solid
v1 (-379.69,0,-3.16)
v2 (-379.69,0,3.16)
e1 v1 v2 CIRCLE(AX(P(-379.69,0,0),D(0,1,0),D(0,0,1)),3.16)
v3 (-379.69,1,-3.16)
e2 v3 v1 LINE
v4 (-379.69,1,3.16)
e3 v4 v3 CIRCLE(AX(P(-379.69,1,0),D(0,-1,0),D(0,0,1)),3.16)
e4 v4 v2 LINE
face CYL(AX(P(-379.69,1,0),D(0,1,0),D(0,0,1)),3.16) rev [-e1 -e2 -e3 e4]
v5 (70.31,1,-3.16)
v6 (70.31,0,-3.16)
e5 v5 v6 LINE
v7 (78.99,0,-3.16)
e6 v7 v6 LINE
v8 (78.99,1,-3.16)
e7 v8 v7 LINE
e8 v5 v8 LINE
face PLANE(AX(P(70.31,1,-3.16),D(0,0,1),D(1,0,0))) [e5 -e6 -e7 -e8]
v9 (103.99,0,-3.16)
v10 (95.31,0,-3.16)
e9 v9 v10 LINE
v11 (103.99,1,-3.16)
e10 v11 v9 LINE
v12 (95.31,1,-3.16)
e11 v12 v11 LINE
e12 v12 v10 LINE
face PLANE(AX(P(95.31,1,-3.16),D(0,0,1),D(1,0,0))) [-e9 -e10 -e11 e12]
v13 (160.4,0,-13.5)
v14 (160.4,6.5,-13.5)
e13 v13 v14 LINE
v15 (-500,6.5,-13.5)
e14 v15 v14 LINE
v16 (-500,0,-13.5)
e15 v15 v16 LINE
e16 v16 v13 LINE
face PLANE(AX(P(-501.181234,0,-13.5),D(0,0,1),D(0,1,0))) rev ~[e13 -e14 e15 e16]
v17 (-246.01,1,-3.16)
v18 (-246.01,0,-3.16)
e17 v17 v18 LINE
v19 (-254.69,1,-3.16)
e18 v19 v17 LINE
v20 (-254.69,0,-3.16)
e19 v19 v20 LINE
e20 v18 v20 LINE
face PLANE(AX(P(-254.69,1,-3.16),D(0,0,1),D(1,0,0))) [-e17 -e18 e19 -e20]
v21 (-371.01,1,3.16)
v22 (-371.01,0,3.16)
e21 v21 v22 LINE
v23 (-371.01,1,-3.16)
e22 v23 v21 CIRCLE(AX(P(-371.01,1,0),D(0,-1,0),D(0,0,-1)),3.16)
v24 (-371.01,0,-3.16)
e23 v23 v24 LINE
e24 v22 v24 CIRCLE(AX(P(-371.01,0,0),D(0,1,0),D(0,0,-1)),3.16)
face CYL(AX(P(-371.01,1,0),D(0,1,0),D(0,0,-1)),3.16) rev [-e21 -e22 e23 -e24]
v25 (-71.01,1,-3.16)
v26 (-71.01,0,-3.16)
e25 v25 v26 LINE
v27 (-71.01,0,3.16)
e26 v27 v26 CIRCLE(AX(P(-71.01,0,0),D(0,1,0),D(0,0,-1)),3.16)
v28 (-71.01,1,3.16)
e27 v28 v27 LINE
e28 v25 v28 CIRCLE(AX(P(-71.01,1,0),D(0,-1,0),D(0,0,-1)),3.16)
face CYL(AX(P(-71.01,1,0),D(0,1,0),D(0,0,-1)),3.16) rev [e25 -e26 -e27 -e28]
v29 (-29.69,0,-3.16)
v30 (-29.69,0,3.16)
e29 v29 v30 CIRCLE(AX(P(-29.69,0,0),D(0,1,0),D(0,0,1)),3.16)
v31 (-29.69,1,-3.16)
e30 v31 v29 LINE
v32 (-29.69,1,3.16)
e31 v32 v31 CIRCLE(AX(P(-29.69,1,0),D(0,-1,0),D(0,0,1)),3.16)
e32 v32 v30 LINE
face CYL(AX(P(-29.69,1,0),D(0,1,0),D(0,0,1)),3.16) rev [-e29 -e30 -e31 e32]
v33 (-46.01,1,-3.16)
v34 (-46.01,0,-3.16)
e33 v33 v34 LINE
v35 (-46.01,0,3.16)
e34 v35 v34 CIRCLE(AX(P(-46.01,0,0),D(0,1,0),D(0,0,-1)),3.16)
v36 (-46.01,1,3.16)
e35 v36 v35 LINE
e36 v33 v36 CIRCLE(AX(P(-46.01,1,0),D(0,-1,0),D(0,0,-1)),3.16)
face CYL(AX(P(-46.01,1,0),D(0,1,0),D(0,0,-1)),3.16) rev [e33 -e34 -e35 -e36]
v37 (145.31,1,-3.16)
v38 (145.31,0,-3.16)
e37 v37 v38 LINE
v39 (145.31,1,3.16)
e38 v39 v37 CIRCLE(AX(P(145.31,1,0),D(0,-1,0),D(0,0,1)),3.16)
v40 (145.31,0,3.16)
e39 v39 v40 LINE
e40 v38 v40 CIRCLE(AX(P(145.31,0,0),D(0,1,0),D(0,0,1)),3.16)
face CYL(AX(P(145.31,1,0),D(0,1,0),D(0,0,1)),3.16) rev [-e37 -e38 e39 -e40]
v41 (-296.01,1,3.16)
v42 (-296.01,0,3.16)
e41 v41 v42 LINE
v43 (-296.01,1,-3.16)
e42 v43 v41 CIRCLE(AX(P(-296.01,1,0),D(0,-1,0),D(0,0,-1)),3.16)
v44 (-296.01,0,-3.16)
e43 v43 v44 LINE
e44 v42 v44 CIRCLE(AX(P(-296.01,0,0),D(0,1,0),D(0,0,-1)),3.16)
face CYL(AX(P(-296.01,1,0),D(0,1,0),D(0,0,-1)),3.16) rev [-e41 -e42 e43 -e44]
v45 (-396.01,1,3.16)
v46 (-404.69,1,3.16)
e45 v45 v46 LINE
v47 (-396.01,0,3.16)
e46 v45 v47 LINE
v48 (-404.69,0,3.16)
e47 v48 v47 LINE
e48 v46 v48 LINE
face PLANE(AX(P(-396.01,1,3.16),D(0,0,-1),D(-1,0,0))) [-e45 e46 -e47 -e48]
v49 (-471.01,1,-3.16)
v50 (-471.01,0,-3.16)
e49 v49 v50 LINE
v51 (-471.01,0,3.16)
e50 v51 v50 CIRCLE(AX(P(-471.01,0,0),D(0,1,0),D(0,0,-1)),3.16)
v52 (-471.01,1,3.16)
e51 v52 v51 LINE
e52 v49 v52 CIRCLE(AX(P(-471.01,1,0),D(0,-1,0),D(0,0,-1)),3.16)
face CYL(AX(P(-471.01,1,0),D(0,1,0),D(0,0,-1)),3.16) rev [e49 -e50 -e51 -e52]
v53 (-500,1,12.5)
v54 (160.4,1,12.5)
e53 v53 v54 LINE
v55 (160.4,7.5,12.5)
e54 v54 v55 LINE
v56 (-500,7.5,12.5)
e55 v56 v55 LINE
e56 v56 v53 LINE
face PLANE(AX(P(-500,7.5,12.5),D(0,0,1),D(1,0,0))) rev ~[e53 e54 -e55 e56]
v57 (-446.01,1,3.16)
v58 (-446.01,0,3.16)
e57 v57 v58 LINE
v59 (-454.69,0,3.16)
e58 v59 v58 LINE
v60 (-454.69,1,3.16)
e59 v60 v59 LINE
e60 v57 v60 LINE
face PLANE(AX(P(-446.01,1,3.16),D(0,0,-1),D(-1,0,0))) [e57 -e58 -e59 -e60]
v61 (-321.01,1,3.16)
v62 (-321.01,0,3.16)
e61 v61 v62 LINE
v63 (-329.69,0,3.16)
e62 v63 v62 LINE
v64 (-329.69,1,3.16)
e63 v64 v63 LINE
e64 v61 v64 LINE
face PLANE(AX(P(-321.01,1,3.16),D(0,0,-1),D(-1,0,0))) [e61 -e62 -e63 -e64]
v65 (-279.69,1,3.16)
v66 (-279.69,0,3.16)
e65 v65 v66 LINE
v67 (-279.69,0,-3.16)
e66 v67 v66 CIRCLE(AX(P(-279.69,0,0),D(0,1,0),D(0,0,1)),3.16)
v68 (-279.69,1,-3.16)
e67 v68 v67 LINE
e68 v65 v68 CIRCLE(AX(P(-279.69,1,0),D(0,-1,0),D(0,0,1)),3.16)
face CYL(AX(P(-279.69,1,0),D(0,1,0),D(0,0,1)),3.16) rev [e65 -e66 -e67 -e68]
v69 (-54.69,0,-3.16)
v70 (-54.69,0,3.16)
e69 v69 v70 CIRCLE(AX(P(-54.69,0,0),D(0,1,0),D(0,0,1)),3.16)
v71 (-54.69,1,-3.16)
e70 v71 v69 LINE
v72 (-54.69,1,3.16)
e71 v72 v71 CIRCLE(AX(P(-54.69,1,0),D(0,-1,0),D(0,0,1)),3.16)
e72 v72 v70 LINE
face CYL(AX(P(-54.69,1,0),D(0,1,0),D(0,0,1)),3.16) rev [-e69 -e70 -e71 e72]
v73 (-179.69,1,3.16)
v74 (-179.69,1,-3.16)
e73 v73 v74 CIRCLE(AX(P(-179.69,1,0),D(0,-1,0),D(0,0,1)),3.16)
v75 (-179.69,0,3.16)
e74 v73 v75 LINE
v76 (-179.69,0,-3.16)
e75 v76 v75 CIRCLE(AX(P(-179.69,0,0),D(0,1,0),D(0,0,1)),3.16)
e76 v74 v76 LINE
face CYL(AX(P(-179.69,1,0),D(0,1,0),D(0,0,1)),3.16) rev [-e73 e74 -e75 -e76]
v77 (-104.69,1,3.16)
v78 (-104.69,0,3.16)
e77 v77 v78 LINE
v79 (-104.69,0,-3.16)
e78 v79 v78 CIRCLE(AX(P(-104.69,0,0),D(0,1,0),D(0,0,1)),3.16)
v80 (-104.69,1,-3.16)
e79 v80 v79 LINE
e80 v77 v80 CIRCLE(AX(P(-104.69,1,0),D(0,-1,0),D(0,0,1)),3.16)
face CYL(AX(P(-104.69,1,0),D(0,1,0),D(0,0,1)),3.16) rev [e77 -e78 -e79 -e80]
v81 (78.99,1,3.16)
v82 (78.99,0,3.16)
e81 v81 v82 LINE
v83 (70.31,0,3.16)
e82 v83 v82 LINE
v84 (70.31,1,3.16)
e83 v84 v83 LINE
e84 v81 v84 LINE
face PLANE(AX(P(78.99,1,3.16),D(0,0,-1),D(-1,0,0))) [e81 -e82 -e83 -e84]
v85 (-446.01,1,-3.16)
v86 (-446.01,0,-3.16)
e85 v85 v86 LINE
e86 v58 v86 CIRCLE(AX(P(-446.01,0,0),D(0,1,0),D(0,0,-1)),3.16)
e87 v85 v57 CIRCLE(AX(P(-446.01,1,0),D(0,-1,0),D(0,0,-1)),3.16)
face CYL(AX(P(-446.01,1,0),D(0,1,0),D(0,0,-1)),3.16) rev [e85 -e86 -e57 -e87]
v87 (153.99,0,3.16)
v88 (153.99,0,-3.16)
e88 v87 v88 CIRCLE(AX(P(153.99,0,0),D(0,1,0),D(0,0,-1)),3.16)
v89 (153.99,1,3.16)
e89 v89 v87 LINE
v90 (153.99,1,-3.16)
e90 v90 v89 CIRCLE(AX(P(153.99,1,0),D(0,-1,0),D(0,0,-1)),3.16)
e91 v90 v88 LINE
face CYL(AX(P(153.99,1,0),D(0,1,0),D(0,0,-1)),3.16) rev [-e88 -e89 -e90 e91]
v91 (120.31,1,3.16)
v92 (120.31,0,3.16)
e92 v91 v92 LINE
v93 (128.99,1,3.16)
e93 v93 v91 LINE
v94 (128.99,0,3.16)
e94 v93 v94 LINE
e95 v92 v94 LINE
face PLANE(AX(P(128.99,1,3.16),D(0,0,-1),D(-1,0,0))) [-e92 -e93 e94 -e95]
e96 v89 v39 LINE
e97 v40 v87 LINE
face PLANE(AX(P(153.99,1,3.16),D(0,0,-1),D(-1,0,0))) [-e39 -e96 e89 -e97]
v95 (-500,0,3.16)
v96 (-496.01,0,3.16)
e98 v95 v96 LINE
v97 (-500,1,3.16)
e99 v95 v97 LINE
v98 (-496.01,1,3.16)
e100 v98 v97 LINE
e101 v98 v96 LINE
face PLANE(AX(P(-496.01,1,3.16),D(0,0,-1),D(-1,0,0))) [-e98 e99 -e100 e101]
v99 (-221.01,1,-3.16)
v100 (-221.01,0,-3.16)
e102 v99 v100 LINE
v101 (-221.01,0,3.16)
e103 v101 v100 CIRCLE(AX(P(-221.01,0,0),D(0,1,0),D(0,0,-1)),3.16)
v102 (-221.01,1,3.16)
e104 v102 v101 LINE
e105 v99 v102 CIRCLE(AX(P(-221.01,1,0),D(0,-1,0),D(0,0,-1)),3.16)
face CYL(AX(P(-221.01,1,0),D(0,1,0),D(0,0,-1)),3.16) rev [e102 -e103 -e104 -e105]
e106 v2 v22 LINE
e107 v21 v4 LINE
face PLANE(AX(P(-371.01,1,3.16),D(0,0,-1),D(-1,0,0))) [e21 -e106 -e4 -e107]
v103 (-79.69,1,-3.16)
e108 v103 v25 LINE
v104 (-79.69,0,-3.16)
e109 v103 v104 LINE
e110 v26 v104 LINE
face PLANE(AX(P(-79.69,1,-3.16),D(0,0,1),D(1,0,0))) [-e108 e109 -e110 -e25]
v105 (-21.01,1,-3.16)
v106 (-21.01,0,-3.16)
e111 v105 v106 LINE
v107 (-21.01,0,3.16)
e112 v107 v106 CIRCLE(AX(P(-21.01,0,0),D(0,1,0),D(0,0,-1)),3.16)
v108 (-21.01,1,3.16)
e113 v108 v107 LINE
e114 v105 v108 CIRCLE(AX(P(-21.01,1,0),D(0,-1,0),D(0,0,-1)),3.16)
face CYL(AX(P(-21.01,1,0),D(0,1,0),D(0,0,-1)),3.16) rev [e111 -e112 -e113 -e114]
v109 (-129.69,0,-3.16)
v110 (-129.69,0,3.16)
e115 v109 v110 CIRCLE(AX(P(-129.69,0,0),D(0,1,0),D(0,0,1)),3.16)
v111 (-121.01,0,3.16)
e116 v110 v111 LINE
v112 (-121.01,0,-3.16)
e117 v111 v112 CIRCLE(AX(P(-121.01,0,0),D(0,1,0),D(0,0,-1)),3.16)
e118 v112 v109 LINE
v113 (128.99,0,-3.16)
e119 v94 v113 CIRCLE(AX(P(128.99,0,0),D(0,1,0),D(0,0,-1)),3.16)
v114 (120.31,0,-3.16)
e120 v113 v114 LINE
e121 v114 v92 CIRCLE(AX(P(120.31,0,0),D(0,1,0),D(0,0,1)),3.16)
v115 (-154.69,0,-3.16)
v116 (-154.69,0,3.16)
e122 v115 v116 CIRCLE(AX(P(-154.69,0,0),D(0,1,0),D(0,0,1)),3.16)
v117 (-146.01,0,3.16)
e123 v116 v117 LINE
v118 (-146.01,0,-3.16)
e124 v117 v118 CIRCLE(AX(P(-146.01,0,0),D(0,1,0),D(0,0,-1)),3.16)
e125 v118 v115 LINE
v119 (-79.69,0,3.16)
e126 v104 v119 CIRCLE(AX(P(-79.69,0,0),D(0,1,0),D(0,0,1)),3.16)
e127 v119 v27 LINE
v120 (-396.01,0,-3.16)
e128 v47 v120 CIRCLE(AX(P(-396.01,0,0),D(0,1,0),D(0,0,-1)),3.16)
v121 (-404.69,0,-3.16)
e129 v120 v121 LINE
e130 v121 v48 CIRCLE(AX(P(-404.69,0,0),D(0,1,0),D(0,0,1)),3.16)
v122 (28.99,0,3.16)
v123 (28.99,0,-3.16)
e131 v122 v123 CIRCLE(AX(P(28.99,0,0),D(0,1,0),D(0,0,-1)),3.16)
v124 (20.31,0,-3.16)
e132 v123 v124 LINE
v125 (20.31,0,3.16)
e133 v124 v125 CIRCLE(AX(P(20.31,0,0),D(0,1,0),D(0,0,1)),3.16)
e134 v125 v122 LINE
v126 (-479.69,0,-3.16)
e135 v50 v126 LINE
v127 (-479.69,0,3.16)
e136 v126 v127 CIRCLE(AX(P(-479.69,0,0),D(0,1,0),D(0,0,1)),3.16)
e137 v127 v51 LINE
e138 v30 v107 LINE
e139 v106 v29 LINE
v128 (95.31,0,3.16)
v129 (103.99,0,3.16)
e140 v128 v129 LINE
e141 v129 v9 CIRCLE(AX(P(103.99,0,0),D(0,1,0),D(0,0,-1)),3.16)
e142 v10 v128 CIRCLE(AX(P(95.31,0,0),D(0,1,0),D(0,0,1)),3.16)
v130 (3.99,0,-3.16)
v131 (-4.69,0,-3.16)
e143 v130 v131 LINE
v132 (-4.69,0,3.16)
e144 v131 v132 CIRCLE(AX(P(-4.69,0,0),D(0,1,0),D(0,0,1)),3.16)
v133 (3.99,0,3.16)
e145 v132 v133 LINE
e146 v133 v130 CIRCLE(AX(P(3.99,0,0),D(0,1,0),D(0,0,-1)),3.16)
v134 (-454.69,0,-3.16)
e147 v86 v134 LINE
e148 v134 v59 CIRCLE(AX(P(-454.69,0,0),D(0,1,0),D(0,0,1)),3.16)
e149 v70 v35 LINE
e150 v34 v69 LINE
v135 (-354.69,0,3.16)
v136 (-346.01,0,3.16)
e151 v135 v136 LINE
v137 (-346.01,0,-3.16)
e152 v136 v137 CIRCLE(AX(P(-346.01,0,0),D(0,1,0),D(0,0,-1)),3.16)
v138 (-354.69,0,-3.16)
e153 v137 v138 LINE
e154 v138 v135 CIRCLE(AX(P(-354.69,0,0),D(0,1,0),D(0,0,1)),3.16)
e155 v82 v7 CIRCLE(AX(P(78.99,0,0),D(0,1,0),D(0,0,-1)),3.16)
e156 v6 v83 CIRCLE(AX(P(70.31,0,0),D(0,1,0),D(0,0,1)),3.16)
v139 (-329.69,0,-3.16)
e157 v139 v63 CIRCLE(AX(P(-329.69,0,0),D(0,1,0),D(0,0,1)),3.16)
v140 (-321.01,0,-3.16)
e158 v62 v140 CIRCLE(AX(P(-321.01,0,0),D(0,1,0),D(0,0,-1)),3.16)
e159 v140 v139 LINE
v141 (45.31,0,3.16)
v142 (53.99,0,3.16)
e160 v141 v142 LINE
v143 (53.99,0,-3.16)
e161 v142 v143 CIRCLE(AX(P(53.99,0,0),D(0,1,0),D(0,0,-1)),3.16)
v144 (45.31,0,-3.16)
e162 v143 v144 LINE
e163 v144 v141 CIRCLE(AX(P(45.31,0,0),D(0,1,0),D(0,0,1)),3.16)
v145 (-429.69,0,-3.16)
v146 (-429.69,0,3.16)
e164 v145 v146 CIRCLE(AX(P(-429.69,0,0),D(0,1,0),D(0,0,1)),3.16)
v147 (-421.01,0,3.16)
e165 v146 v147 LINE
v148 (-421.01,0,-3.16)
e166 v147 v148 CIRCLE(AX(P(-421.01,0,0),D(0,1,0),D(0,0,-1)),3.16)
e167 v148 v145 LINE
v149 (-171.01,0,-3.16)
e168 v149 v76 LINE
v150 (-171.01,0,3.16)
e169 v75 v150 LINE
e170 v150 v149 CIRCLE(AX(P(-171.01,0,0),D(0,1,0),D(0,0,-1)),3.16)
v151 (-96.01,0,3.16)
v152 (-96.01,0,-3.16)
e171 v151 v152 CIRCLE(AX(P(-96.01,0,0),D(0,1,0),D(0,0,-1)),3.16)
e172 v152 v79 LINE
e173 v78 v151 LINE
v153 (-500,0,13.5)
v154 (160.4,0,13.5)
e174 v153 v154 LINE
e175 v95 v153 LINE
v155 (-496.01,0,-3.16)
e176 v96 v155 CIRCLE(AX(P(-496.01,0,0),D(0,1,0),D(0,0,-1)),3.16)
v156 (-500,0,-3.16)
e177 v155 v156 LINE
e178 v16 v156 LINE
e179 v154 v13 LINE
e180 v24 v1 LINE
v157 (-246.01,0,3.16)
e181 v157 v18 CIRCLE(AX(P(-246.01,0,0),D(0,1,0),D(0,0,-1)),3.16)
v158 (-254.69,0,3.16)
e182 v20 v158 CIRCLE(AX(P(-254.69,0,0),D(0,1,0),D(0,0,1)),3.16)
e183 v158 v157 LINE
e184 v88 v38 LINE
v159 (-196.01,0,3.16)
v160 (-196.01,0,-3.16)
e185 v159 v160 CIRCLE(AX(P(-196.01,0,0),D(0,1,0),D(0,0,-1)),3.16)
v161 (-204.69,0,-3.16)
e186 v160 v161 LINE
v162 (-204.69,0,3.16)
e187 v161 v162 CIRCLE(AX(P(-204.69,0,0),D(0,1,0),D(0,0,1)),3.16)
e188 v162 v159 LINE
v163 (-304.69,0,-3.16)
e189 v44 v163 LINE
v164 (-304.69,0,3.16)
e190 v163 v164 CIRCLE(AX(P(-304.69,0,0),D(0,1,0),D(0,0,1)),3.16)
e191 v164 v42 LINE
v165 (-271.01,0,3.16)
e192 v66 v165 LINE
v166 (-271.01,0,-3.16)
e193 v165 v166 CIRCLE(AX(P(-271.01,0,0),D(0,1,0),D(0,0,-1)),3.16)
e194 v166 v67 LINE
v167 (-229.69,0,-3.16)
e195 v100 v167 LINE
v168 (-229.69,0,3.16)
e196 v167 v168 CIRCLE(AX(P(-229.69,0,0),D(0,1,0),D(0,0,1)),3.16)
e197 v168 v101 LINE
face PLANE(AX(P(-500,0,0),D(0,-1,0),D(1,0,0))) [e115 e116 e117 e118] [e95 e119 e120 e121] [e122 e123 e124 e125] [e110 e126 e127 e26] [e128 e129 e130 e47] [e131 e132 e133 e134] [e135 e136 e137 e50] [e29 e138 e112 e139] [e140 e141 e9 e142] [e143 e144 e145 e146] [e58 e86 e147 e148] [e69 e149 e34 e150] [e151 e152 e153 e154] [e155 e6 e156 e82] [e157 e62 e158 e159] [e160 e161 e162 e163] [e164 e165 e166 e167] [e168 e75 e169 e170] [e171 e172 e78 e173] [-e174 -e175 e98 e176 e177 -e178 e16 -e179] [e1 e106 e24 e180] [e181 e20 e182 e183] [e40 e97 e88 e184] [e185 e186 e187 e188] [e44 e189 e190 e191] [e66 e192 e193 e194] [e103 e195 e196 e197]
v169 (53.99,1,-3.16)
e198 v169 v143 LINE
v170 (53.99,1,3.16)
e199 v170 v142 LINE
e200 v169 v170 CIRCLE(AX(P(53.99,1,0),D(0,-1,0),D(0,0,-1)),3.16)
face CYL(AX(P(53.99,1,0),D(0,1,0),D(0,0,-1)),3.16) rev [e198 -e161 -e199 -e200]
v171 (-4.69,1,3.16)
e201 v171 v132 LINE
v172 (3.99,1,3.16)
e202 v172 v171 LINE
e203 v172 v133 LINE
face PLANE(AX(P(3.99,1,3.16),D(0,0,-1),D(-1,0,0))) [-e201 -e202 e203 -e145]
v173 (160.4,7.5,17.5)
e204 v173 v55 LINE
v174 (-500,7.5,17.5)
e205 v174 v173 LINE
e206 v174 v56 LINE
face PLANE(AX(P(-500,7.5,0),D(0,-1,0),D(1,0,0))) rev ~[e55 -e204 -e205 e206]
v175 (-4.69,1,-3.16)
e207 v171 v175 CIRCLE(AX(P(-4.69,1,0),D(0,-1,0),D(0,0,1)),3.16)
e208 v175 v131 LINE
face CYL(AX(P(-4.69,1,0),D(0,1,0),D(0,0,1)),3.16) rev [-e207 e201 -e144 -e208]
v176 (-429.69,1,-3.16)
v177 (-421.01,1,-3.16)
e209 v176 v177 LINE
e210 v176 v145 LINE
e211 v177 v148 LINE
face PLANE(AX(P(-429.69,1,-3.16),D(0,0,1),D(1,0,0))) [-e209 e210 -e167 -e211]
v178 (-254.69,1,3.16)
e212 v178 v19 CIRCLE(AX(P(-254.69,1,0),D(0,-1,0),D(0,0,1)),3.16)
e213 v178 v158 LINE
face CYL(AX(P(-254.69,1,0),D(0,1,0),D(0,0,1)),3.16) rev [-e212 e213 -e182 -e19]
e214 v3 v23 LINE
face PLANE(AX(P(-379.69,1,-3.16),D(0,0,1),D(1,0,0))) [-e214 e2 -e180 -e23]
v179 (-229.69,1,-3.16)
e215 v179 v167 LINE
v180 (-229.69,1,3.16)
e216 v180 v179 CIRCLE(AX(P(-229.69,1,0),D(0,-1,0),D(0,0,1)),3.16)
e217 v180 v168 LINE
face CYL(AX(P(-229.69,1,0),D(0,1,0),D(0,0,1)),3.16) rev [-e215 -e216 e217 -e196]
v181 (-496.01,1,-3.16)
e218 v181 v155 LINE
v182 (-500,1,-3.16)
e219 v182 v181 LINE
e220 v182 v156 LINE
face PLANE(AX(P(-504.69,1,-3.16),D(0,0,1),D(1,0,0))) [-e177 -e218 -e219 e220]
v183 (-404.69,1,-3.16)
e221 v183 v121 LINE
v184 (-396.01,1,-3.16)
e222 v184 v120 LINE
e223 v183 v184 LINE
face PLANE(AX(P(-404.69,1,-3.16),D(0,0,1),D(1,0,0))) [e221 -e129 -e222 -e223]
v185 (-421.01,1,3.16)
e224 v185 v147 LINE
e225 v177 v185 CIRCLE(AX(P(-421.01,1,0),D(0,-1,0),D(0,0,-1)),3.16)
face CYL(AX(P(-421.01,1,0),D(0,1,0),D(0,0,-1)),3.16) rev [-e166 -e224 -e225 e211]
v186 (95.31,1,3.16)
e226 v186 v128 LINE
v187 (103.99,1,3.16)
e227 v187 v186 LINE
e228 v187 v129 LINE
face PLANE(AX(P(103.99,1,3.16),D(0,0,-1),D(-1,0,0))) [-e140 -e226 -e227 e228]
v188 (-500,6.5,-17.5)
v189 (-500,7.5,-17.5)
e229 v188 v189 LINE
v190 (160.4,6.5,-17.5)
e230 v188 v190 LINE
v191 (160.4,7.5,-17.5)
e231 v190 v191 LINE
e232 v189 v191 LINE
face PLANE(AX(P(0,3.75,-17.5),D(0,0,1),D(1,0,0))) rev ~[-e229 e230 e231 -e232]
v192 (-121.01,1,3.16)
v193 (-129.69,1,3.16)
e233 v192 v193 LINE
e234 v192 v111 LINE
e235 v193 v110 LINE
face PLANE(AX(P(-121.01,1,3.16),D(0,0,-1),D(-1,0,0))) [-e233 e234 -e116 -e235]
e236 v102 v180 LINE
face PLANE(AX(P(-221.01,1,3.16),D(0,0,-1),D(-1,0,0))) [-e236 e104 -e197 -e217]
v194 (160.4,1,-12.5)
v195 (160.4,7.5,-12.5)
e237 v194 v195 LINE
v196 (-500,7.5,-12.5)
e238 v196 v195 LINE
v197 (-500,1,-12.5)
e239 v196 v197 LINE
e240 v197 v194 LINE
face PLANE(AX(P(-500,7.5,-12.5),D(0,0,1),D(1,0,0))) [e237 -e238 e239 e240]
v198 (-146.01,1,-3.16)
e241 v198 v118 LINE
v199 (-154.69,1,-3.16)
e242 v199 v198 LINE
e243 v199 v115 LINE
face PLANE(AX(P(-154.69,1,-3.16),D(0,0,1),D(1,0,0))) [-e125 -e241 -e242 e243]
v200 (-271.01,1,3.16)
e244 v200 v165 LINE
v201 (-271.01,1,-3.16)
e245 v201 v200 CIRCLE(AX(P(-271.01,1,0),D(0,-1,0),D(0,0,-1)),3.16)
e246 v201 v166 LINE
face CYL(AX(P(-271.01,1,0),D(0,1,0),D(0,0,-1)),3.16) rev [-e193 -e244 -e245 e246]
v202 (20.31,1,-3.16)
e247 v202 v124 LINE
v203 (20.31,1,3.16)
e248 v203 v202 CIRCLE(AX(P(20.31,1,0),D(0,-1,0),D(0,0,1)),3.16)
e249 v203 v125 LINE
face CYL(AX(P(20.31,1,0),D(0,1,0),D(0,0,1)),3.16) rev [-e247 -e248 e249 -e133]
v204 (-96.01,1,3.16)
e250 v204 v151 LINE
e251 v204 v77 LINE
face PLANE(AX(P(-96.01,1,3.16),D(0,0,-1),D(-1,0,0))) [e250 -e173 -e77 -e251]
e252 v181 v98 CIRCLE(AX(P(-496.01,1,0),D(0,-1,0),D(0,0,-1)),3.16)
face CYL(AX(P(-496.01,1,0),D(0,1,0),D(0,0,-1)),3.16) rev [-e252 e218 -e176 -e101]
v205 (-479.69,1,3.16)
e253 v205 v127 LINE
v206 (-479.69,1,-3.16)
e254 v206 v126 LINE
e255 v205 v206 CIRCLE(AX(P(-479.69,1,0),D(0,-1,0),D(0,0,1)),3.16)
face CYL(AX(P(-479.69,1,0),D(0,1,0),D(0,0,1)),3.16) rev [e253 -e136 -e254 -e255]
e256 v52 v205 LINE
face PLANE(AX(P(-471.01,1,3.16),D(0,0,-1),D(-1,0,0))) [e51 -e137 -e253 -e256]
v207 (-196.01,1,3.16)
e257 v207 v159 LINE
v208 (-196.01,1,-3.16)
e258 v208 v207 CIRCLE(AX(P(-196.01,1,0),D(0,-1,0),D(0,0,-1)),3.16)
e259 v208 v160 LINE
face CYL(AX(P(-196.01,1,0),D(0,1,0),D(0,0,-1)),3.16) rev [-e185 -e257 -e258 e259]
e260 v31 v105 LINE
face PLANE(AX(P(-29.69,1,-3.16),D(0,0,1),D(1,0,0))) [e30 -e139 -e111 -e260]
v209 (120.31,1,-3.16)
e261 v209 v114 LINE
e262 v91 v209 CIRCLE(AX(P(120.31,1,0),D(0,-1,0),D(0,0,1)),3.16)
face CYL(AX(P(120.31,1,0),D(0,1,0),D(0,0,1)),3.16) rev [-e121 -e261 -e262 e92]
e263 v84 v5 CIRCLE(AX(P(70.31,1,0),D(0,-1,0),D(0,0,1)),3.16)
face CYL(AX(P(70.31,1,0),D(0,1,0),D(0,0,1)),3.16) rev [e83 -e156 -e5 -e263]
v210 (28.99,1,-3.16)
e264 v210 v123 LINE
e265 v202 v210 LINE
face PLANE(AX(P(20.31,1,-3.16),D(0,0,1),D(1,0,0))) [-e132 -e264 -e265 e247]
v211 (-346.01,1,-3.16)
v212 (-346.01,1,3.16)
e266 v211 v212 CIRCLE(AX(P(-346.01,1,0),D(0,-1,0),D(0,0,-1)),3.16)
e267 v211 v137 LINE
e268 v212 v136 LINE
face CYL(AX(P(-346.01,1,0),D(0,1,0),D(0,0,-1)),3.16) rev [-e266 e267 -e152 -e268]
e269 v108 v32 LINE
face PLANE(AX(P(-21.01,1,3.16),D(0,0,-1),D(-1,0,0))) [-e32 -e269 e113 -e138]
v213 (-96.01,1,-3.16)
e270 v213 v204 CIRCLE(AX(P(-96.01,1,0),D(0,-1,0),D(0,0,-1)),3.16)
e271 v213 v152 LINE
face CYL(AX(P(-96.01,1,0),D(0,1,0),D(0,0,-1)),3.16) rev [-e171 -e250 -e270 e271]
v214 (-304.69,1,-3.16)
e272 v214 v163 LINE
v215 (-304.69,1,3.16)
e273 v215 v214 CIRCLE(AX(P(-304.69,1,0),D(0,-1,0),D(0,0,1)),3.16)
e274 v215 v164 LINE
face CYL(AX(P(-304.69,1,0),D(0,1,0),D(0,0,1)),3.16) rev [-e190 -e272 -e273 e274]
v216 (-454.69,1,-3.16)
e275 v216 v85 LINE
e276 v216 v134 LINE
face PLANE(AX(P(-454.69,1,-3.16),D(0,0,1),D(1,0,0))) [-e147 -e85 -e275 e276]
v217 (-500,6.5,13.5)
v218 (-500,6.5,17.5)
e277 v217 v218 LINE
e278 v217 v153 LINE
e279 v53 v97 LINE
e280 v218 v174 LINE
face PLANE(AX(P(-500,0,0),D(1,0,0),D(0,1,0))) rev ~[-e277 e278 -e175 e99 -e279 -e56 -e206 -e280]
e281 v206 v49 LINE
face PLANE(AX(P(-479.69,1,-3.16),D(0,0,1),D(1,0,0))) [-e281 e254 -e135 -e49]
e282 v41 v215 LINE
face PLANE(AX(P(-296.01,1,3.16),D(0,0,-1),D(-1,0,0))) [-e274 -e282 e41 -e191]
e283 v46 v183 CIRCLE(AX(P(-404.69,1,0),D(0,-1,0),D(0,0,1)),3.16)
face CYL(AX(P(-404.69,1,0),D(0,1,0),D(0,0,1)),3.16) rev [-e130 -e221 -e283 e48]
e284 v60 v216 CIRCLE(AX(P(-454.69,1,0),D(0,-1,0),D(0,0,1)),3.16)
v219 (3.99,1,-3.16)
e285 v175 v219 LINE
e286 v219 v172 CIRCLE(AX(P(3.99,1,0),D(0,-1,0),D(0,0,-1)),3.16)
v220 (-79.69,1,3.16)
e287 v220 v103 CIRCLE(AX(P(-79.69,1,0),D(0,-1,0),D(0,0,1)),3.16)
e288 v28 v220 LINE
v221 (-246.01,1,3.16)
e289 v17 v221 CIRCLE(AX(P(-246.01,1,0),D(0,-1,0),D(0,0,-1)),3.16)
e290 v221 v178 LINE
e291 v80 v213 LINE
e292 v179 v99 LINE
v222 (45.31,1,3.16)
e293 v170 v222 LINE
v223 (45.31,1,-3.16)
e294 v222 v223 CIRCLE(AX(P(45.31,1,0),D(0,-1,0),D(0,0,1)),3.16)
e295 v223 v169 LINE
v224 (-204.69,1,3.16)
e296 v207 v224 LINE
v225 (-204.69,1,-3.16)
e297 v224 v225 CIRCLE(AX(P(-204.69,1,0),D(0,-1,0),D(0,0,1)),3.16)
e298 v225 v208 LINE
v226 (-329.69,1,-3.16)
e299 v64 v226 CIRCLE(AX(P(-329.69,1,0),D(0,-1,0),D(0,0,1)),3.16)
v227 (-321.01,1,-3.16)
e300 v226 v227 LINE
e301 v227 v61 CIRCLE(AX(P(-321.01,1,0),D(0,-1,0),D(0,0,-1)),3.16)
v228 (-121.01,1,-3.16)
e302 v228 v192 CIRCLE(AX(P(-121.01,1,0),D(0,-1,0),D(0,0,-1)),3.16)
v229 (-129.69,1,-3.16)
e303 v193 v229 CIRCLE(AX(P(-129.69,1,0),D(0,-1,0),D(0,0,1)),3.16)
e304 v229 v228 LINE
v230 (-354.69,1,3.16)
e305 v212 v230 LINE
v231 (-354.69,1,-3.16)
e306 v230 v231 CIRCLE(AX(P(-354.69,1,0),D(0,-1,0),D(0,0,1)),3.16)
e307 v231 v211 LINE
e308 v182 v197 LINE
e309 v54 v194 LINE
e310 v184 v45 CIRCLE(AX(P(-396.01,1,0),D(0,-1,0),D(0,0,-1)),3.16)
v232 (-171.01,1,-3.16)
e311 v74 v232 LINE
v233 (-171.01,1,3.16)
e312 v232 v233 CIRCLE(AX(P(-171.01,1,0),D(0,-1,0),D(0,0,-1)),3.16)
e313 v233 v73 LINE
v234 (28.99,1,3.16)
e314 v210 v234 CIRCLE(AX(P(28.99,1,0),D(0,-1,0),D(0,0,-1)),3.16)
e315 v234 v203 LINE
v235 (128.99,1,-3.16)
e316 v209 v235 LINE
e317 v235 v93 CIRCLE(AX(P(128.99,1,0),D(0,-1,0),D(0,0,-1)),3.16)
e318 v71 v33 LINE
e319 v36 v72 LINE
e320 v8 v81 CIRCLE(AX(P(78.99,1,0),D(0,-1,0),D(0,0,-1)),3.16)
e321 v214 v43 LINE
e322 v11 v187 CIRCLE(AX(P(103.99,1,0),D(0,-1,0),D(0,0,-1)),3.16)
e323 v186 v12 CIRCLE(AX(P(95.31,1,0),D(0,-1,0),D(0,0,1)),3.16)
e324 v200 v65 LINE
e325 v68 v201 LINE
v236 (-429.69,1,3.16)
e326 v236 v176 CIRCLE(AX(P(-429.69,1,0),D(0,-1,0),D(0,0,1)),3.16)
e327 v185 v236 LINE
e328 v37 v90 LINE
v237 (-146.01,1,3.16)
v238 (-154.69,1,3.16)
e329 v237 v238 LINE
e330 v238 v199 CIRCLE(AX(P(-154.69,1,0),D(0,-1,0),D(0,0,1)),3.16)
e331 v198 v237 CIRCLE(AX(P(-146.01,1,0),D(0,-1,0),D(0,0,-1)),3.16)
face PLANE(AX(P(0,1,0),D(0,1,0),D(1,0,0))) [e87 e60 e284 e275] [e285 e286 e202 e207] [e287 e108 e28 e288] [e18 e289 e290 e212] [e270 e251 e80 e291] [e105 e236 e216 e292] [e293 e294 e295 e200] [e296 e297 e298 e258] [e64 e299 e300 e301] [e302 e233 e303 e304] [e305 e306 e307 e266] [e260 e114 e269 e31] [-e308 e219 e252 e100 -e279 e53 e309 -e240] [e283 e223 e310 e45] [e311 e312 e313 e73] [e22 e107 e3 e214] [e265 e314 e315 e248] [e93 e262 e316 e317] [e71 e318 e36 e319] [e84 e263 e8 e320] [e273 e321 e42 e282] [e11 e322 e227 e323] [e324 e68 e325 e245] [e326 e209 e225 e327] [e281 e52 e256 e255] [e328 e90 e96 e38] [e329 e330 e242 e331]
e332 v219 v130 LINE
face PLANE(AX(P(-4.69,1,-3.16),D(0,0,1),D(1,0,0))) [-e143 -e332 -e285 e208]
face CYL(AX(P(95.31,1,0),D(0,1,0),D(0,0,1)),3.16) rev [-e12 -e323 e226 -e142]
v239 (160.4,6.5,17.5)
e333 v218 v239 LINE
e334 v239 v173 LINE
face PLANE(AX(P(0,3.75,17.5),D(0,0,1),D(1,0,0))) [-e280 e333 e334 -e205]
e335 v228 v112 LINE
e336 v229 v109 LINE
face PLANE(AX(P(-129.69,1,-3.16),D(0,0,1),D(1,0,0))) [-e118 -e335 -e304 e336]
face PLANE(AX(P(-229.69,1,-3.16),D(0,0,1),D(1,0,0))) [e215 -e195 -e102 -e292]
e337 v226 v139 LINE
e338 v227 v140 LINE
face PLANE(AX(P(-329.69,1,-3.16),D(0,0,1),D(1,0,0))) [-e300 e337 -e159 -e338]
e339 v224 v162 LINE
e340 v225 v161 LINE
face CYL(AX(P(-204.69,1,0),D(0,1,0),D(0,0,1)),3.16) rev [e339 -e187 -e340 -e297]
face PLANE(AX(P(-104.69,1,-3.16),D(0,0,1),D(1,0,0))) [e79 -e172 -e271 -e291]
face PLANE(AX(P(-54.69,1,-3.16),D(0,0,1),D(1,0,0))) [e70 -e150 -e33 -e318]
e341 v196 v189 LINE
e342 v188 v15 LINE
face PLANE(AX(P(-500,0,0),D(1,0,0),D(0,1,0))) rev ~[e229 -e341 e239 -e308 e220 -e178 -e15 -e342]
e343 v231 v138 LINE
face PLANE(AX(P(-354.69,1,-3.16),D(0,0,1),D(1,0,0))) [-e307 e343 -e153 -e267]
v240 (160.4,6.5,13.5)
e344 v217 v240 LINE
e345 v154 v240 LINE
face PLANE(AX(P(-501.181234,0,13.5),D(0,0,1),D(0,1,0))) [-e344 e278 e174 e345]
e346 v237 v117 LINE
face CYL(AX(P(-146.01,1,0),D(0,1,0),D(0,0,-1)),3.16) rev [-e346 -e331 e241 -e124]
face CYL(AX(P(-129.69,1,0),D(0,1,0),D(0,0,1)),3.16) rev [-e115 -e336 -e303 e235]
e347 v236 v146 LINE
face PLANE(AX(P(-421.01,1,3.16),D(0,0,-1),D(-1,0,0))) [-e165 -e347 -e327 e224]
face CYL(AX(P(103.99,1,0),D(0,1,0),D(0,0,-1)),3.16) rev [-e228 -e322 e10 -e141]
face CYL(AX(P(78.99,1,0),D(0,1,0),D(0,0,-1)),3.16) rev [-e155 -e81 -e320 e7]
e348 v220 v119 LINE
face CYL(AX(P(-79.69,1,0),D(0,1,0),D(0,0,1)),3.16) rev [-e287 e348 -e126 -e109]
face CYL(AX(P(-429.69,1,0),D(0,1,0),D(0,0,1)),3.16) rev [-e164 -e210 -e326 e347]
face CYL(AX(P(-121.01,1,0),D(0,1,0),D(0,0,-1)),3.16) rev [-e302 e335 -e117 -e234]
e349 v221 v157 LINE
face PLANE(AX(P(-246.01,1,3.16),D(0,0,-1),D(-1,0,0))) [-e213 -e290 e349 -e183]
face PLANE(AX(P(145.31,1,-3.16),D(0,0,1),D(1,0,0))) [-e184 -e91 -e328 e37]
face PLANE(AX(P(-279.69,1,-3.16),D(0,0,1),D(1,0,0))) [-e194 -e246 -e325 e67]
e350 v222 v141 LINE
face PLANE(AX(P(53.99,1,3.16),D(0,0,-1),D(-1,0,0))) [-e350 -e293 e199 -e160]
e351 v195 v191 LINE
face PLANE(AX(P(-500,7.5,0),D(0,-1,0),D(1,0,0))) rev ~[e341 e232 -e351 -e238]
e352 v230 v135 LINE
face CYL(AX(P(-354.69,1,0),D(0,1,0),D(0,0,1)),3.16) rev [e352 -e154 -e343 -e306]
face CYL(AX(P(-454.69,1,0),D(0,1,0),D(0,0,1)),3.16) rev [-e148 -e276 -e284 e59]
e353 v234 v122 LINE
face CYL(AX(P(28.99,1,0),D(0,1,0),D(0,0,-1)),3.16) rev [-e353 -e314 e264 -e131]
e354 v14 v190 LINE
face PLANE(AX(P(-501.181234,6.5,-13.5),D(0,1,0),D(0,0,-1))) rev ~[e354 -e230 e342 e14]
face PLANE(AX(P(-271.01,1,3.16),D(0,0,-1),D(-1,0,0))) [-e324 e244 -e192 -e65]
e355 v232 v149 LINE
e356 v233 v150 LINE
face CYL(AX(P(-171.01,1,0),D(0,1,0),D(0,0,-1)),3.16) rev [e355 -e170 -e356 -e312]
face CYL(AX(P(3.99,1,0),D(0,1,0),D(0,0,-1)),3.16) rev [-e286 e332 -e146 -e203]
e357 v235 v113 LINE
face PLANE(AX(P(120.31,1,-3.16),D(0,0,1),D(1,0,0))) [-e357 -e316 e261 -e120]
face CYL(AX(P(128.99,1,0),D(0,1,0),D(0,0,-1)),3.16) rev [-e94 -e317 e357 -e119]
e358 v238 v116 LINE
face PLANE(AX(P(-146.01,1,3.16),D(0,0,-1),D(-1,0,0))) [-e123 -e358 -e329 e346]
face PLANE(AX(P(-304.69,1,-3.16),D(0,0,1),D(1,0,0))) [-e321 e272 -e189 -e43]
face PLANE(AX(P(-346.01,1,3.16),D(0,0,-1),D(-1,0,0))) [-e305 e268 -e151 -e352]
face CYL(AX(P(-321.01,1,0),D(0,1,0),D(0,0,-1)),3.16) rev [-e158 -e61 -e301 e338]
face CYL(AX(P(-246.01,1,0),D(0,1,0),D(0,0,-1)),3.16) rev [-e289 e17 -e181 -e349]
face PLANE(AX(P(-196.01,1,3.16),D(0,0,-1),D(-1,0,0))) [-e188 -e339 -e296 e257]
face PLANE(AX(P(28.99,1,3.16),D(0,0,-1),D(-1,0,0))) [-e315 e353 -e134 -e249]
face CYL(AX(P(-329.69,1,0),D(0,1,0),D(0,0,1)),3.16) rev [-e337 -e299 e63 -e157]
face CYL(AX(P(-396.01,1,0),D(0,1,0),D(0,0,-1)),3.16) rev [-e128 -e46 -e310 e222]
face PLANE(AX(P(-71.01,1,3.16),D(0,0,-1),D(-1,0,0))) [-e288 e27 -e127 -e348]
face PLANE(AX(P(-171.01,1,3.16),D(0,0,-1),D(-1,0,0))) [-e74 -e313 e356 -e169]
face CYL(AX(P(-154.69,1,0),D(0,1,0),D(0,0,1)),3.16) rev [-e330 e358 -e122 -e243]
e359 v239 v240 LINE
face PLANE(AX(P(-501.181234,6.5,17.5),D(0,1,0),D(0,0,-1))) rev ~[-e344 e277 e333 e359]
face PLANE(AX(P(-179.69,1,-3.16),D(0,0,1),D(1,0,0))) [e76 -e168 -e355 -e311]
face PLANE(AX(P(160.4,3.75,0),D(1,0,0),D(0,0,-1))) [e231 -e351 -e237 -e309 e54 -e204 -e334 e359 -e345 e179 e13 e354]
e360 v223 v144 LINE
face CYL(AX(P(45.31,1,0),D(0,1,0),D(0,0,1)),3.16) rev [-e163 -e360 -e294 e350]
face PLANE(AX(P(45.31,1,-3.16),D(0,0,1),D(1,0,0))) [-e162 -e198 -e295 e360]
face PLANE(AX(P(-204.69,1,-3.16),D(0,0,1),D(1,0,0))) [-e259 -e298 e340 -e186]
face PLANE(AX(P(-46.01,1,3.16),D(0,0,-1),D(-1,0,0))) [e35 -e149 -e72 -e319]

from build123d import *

# Parameters (mm, degrees)
SKETCH1_W               = 1000
SKETCH1_H               = 7.5
BOSS_EXTRUDE1_DEPTH     = 17.5
SKETCH2_W               = 1000
SKETCH2_H               = 25
CUT_EXTRUDE1_DEPTH      = 6.5
CUT_EXTRUDE2_DEPTH      = 1001.181233577
CUT_EXTRUDE2_DEPTH_BACK = 1001.181233577
SKETCH4_W               = 4
SKETCH4_H               = 6.5
CUT_EXTRUDE3_DEPTH      = 501.348378632
SKETCH6_W               = 35
SKETCH6_H               = 7.5
CUT_EXTRUDE4_DEPTH      = 339.6


with BuildPart() as part:
    # Sketch1 → Boss-Extrude1 (new, symmetric)
    with BuildSketch(Plane.XY):
        with Locations((0, 3.75)):
            Rectangle(SKETCH1_W, SKETCH1_H)
    extrude(amount=BOSS_EXTRUDE1_DEPTH, both=True)

    # Sketch2 → Cut-Extrude1 (cut)
    with BuildSketch(Plane(origin=(0, 7.5, 0), x_dir=(1, 0, 0), z_dir=(0, 1, 0))):
        Rectangle(SKETCH2_W, SKETCH2_H)
    extrude(amount=-CUT_EXTRUDE1_DEPTH, mode=Mode.SUBTRACT)

    # Sketch4 → Cut-Extrude2 (cut, two sides: drawn at the far end of the back side and taken through both)
    with BuildSketch(Plane(origin=(500, 0, 0), x_dir=(0, 0, -1), z_dir=(1, 0, 0)).offset(-CUT_EXTRUDE2_DEPTH_BACK)):
        with Locations((-15.5, 3.25)):
            Rectangle(SKETCH4_W, SKETCH4_H)
        with Locations((15.5, 3.25)):
            Rectangle(SKETCH4_W, SKETCH4_H)
    extrude(amount=CUT_EXTRUDE2_DEPTH + CUT_EXTRUDE2_DEPTH_BACK, mode=Mode.SUBTRACT)

    # Sketch5 → Cut-Extrude3 (cut, through all)
    with BuildSketch(Plane(origin=(0, 1, 0), x_dir=(1, 0, 0), z_dir=(0, 1, 0))):
        with BuildLine():
            Line((-504.69, 3.16), (-496.01, 3.16))
            ThreePointArc((-496.01, 3.16), (-492.85, 0), (-496.01, -3.16))
            Line((-496.01, -3.16), (-504.69, -3.16))
            ThreePointArc((-504.69, -3.16), (-507.85, 0), (-504.69, 3.16))
        make_face()
        with BuildLine():
            Line((-479.69, 3.16), (-471.01, 3.16))
            ThreePointArc((-471.01, 3.16), (-467.85, 0), (-471.01, -3.16))
            Line((-471.01, -3.16), (-479.69, -3.16))
            ThreePointArc((-479.69, -3.16), (-482.85, 0), (-479.69, 3.16))
        make_face()
        with BuildLine():
            Line((-454.69, 3.16), (-446.01, 3.16))
            ThreePointArc((-446.01, 3.16), (-442.85, 0), (-446.01, -3.16))
            Line((-446.01, -3.16), (-454.69, -3.16))
            ThreePointArc((-454.69, -3.16), (-457.85, 0), (-454.69, 3.16))
        make_face()
        with BuildLine():
            Line((-429.69, 3.16), (-421.01, 3.16))
            ThreePointArc((-421.01, 3.16), (-417.85, 0), (-421.01, -3.16))
            Line((-421.01, -3.16), (-429.69, -3.16))
            ThreePointArc((-429.69, -3.16), (-432.85, 0), (-429.69, 3.16))
        make_face()
        with BuildLine():
            Line((-404.69, 3.16), (-396.01, 3.16))
            ThreePointArc((-396.01, 3.16), (-392.85, 0), (-396.01, -3.16))
            Line((-396.01, -3.16), (-404.69, -3.16))
            ThreePointArc((-404.69, -3.16), (-407.85, 0), (-404.69, 3.16))
        make_face()
        with BuildLine():
            Line((-379.69, 3.16), (-371.01, 3.16))
            ThreePointArc((-371.01, 3.16), (-367.85, 0), (-371.01, -3.16))
            Line((-371.01, -3.16), (-379.69, -3.16))
            ThreePointArc((-379.69, -3.16), (-382.85, 0), (-379.69, 3.16))
        make_face()
        with BuildLine():
            Line((-354.69, 3.16), (-346.01, 3.16))
            ThreePointArc((-346.01, 3.16), (-342.85, 0), (-346.01, -3.16))
            Line((-346.01, -3.16), (-354.69, -3.16))
            ThreePointArc((-354.69, -3.16), (-357.85, 0), (-354.69, 3.16))
        make_face()
        with BuildLine():
            Line((-329.69, 3.16), (-321.01, 3.16))
            ThreePointArc((-321.01, 3.16), (-317.85, 0), (-321.01, -3.16))
            Line((-321.01, -3.16), (-329.69, -3.16))
            ThreePointArc((-329.69, -3.16), (-332.85, 0), (-329.69, 3.16))
        make_face()
        with BuildLine():
            Line((-304.69, 3.16), (-296.01, 3.16))
            ThreePointArc((-296.01, 3.16), (-292.85, 0), (-296.01, -3.16))
            Line((-296.01, -3.16), (-304.69, -3.16))
            ThreePointArc((-304.69, -3.16), (-307.85, 0), (-304.69, 3.16))
        make_face()
        with BuildLine():
            Line((-279.69, 3.16), (-271.01, 3.16))
            ThreePointArc((-271.01, 3.16), (-267.85, 0), (-271.01, -3.16))
            Line((-271.01, -3.16), (-279.69, -3.16))
            ThreePointArc((-279.69, -3.16), (-282.85, 0), (-279.69, 3.16))
        make_face()
        with BuildLine():
            Line((-254.69, 3.16), (-246.01, 3.16))
            ThreePointArc((-246.01, 3.16), (-242.85, 0), (-246.01, -3.16))
            Line((-246.01, -3.16), (-254.69, -3.16))
            ThreePointArc((-254.69, -3.16), (-257.85, 0), (-254.69, 3.16))
        make_face()
        with BuildLine():
            Line((-229.69, 3.16), (-221.01, 3.16))
            ThreePointArc((-221.01, 3.16), (-217.85, 0), (-221.01, -3.16))
            Line((-221.01, -3.16), (-229.69, -3.16))
            ThreePointArc((-229.69, -3.16), (-232.85, 0), (-229.69, 3.16))
        make_face()
        with BuildLine():
            Line((-204.69, 3.16), (-196.01, 3.16))
            ThreePointArc((-196.01, 3.16), (-192.85, 0), (-196.01, -3.16))
            Line((-196.01, -3.16), (-204.69, -3.16))
            ThreePointArc((-204.69, -3.16), (-207.85, 0), (-204.69, 3.16))
        make_face()
        with BuildLine():
            Line((-179.69, 3.16), (-171.01, 3.16))
            ThreePointArc((-171.01, 3.16), (-167.85, 0), (-171.01, -3.16))
            Line((-171.01, -3.16), (-179.69, -3.16))
            ThreePointArc((-179.69, -3.16), (-182.85, 0), (-179.69, 3.16))
        make_face()
        with BuildLine():
            Line((-154.69, 3.16), (-146.01, 3.16))
            ThreePointArc((-146.01, 3.16), (-142.85, 0), (-146.01, -3.16))
            Line((-146.01, -3.16), (-154.69, -3.16))
            ThreePointArc((-154.69, -3.16), (-157.85, 0), (-154.69, 3.16))
        make_face()
        with BuildLine():
            Line((-129.69, 3.16), (-121.01, 3.16))
            ThreePointArc((-121.01, 3.16), (-117.85, 0), (-121.01, -3.16))
            Line((-121.01, -3.16), (-129.69, -3.16))
            ThreePointArc((-129.69, -3.16), (-132.85, 0), (-129.69, 3.16))
        make_face()
        with BuildLine():
            Line((-104.69, 3.16), (-96.01, 3.16))
            ThreePointArc((-96.01, 3.16), (-92.85, 0), (-96.01, -3.16))
            Line((-96.01, -3.16), (-104.69, -3.16))
            ThreePointArc((-104.69, -3.16), (-107.85, 0), (-104.69, 3.16))
        make_face()
        with BuildLine():
            Line((-79.69, 3.16), (-71.01, 3.16))
            ThreePointArc((-71.01, 3.16), (-67.85, 0), (-71.01, -3.16))
            Line((-71.01, -3.16), (-79.69, -3.16))
            ThreePointArc((-79.69, -3.16), (-82.85, 0), (-79.69, 3.16))
        make_face()
        with BuildLine():
            Line((-54.69, 3.16), (-46.01, 3.16))
            ThreePointArc((-46.01, 3.16), (-42.85, 0), (-46.01, -3.16))
            Line((-46.01, -3.16), (-54.69, -3.16))
            ThreePointArc((-54.69, -3.16), (-57.85, 0), (-54.69, 3.16))
        make_face()
        with BuildLine():
            Line((-29.69, 3.16), (-21.01, 3.16))
            ThreePointArc((-21.01, 3.16), (-17.85, 0), (-21.01, -3.16))
            Line((-21.01, -3.16), (-29.69, -3.16))
            ThreePointArc((-29.69, -3.16), (-32.85, 0), (-29.69, 3.16))
        make_face()
        with BuildLine():
            Line((-4.69, 3.16), (3.99, 3.16))
            ThreePointArc((3.99, 3.16), (7.15, 0), (3.99, -3.16))
            Line((3.99, -3.16), (-4.69, -3.16))
            ThreePointArc((-4.69, -3.16), (-7.85, 0), (-4.69, 3.16))
        make_face()
        with BuildLine():
            Line((20.31, 3.16), (28.99, 3.16))
            ThreePointArc((28.99, 3.16), (32.15, 0), (28.99, -3.16))
            Line((28.99, -3.16), (20.31, -3.16))
            ThreePointArc((20.31, -3.16), (17.15, 0), (20.31, 3.16))
        make_face()
        with BuildLine():
            Line((45.31, 3.16), (53.99, 3.16))
            ThreePointArc((53.99, 3.16), (57.15, 0), (53.99, -3.16))
            Line((53.99, -3.16), (45.31, -3.16))
            ThreePointArc((45.31, -3.16), (42.15, 0), (45.31, 3.16))
        make_face()
        with BuildLine():
            Line((70.31, 3.16), (78.99, 3.16))
            ThreePointArc((78.99, 3.16), (82.15, 0), (78.99, -3.16))
            Line((78.99, -3.16), (70.31, -3.16))
            ThreePointArc((70.31, -3.16), (67.15, 0), (70.31, 3.16))
        make_face()
        with BuildLine():
            Line((95.31, 3.16), (103.99, 3.16))
            ThreePointArc((103.99, 3.16), (107.15, 0), (103.99, -3.16))
            Line((103.99, -3.16), (95.31, -3.16))
            ThreePointArc((95.31, -3.16), (92.15, 0), (95.31, 3.16))
        make_face()
        with BuildLine():
            Line((120.31, 3.16), (128.99, 3.16))
            ThreePointArc((128.99, 3.16), (132.15, 0), (128.99, -3.16))
            Line((128.99, -3.16), (120.31, -3.16))
            ThreePointArc((120.31, -3.16), (117.15, 0), (120.31, 3.16))
        make_face()
        with BuildLine():
            Line((145.31, 3.16), (153.99, 3.16))
            ThreePointArc((153.99, 3.16), (157.15, 0), (153.99, -3.16))
            Line((153.99, -3.16), (145.31, -3.16))
            ThreePointArc((145.31, -3.16), (142.15, 0), (145.31, 3.16))
        make_face()
        with BuildLine():
            Line((170.31, 3.16), (178.99, 3.16))
            ThreePointArc((178.99, 3.16), (182.15, 0), (178.99, -3.16))
            Line((178.99, -3.16), (170.31, -3.16))
            ThreePointArc((170.31, -3.16), (167.15, 0), (170.31, 3.16))
        make_face()
        with BuildLine():
            Line((195.31, 3.16), (203.99, 3.16))
            ThreePointArc((203.99, 3.16), (207.15, 0), (203.99, -3.16))
            Line((203.99, -3.16), (195.31, -3.16))
            ThreePointArc((195.31, -3.16), (192.15, 0), (195.31, 3.16))
        make_face()
        with BuildLine():
            Line((220.31, 3.16), (228.99, 3.16))
            ThreePointArc((228.99, 3.16), (232.15, 0), (228.99, -3.16))
            Line((228.99, -3.16), (220.31, -3.16))
            ThreePointArc((220.31, -3.16), (217.15, 0), (220.31, 3.16))
        make_face()
        with BuildLine():
            Line((245.31, 3.16), (253.99, 3.16))
            ThreePointArc((253.99, 3.16), (257.15, 0), (253.99, -3.16))
            Line((253.99, -3.16), (245.31, -3.16))
            ThreePointArc((245.31, -3.16), (242.15, 0), (245.31, 3.16))
        make_face()
        with BuildLine():
            Line((270.31, 3.16), (278.99, 3.16))
            ThreePointArc((278.99, 3.16), (282.15, 0), (278.99, -3.16))
            Line((278.99, -3.16), (270.31, -3.16))
            ThreePointArc((270.31, -3.16), (267.15, 0), (270.31, 3.16))
        make_face()
        with BuildLine():
            Line((295.31, 3.16), (303.99, 3.16))
            ThreePointArc((303.99, 3.16), (307.15, 0), (303.99, -3.16))
            Line((303.99, -3.16), (295.31, -3.16))
            ThreePointArc((295.31, -3.16), (292.15, 0), (295.31, 3.16))
        make_face()
        with BuildLine():
            Line((320.31, 3.16), (328.99, 3.16))
            ThreePointArc((328.99, 3.16), (332.15, 0), (328.99, -3.16))
            Line((328.99, -3.16), (320.31, -3.16))
            ThreePointArc((320.31, -3.16), (317.15, 0), (320.31, 3.16))
        make_face()
        with BuildLine():
            Line((345.31, 3.16), (353.99, 3.16))
            ThreePointArc((353.99, 3.16), (357.15, 0), (353.99, -3.16))
            Line((353.99, -3.16), (345.31, -3.16))
            ThreePointArc((345.31, -3.16), (342.15, 0), (345.31, 3.16))
        make_face()
        with BuildLine():
            Line((370.31, 3.16), (378.99, 3.16))
            ThreePointArc((378.99, 3.16), (382.15, 0), (378.99, -3.16))
            Line((378.99, -3.16), (370.31, -3.16))
            ThreePointArc((370.31, -3.16), (367.15, 0), (370.31, 3.16))
        make_face()
        with BuildLine():
            Line((395.31, 3.16), (403.99, 3.16))
            ThreePointArc((403.99, 3.16), (407.15, 0), (403.99, -3.16))
            Line((403.99, -3.16), (395.31, -3.16))
            ThreePointArc((395.31, -3.16), (392.15, 0), (395.31, 3.16))
        make_face()
        with BuildLine():
            Line((420.31, 3.16), (428.99, 3.16))
            ThreePointArc((428.99, 3.16), (432.15, 0), (428.99, -3.16))
            Line((428.99, -3.16), (420.31, -3.16))
            ThreePointArc((420.31, -3.16), (417.15, 0), (420.31, 3.16))
        make_face()
        with BuildLine():
            Line((445.31, 3.16), (453.99, 3.16))
            ThreePointArc((453.99, 3.16), (457.15, 0), (453.99, -3.16))
            Line((453.99, -3.16), (445.31, -3.16))
            ThreePointArc((445.31, -3.16), (442.15, 0), (445.31, 3.16))
        make_face()
        with BuildLine():
            Line((470.31, 3.16), (478.99, 3.16))
            ThreePointArc((478.99, 3.16), (482.15, 0), (478.99, -3.16))
            Line((478.99, -3.16), (470.31, -3.16))
            ThreePointArc((470.31, -3.16), (467.15, 0), (470.31, 3.16))
        make_face()
        with BuildLine():
            Line((495.31, 3.16), (503.99, 3.16))
            ThreePointArc((503.99, 3.16), (507.15, 0), (503.99, -3.16))
            Line((503.99, -3.16), (495.31, -3.16))
            ThreePointArc((495.31, -3.16), (492.15, 0), (495.31, 3.16))
        make_face()
    extrude(amount=-CUT_EXTRUDE3_DEPTH, mode=Mode.SUBTRACT)

    # Sketch6 → Cut-Extrude4 (cut)
    with BuildSketch(Plane(origin=(500, 0, 0), x_dir=(0, 0, -1), z_dir=(1, 0, 0))):
        with Locations((0, 3.75)):
            Rectangle(SKETCH6_W, SKETCH6_H)
    extrude(amount=-CUT_EXTRUDE4_DEPTH, mode=Mode.SUBTRACT)


solid = part.part
